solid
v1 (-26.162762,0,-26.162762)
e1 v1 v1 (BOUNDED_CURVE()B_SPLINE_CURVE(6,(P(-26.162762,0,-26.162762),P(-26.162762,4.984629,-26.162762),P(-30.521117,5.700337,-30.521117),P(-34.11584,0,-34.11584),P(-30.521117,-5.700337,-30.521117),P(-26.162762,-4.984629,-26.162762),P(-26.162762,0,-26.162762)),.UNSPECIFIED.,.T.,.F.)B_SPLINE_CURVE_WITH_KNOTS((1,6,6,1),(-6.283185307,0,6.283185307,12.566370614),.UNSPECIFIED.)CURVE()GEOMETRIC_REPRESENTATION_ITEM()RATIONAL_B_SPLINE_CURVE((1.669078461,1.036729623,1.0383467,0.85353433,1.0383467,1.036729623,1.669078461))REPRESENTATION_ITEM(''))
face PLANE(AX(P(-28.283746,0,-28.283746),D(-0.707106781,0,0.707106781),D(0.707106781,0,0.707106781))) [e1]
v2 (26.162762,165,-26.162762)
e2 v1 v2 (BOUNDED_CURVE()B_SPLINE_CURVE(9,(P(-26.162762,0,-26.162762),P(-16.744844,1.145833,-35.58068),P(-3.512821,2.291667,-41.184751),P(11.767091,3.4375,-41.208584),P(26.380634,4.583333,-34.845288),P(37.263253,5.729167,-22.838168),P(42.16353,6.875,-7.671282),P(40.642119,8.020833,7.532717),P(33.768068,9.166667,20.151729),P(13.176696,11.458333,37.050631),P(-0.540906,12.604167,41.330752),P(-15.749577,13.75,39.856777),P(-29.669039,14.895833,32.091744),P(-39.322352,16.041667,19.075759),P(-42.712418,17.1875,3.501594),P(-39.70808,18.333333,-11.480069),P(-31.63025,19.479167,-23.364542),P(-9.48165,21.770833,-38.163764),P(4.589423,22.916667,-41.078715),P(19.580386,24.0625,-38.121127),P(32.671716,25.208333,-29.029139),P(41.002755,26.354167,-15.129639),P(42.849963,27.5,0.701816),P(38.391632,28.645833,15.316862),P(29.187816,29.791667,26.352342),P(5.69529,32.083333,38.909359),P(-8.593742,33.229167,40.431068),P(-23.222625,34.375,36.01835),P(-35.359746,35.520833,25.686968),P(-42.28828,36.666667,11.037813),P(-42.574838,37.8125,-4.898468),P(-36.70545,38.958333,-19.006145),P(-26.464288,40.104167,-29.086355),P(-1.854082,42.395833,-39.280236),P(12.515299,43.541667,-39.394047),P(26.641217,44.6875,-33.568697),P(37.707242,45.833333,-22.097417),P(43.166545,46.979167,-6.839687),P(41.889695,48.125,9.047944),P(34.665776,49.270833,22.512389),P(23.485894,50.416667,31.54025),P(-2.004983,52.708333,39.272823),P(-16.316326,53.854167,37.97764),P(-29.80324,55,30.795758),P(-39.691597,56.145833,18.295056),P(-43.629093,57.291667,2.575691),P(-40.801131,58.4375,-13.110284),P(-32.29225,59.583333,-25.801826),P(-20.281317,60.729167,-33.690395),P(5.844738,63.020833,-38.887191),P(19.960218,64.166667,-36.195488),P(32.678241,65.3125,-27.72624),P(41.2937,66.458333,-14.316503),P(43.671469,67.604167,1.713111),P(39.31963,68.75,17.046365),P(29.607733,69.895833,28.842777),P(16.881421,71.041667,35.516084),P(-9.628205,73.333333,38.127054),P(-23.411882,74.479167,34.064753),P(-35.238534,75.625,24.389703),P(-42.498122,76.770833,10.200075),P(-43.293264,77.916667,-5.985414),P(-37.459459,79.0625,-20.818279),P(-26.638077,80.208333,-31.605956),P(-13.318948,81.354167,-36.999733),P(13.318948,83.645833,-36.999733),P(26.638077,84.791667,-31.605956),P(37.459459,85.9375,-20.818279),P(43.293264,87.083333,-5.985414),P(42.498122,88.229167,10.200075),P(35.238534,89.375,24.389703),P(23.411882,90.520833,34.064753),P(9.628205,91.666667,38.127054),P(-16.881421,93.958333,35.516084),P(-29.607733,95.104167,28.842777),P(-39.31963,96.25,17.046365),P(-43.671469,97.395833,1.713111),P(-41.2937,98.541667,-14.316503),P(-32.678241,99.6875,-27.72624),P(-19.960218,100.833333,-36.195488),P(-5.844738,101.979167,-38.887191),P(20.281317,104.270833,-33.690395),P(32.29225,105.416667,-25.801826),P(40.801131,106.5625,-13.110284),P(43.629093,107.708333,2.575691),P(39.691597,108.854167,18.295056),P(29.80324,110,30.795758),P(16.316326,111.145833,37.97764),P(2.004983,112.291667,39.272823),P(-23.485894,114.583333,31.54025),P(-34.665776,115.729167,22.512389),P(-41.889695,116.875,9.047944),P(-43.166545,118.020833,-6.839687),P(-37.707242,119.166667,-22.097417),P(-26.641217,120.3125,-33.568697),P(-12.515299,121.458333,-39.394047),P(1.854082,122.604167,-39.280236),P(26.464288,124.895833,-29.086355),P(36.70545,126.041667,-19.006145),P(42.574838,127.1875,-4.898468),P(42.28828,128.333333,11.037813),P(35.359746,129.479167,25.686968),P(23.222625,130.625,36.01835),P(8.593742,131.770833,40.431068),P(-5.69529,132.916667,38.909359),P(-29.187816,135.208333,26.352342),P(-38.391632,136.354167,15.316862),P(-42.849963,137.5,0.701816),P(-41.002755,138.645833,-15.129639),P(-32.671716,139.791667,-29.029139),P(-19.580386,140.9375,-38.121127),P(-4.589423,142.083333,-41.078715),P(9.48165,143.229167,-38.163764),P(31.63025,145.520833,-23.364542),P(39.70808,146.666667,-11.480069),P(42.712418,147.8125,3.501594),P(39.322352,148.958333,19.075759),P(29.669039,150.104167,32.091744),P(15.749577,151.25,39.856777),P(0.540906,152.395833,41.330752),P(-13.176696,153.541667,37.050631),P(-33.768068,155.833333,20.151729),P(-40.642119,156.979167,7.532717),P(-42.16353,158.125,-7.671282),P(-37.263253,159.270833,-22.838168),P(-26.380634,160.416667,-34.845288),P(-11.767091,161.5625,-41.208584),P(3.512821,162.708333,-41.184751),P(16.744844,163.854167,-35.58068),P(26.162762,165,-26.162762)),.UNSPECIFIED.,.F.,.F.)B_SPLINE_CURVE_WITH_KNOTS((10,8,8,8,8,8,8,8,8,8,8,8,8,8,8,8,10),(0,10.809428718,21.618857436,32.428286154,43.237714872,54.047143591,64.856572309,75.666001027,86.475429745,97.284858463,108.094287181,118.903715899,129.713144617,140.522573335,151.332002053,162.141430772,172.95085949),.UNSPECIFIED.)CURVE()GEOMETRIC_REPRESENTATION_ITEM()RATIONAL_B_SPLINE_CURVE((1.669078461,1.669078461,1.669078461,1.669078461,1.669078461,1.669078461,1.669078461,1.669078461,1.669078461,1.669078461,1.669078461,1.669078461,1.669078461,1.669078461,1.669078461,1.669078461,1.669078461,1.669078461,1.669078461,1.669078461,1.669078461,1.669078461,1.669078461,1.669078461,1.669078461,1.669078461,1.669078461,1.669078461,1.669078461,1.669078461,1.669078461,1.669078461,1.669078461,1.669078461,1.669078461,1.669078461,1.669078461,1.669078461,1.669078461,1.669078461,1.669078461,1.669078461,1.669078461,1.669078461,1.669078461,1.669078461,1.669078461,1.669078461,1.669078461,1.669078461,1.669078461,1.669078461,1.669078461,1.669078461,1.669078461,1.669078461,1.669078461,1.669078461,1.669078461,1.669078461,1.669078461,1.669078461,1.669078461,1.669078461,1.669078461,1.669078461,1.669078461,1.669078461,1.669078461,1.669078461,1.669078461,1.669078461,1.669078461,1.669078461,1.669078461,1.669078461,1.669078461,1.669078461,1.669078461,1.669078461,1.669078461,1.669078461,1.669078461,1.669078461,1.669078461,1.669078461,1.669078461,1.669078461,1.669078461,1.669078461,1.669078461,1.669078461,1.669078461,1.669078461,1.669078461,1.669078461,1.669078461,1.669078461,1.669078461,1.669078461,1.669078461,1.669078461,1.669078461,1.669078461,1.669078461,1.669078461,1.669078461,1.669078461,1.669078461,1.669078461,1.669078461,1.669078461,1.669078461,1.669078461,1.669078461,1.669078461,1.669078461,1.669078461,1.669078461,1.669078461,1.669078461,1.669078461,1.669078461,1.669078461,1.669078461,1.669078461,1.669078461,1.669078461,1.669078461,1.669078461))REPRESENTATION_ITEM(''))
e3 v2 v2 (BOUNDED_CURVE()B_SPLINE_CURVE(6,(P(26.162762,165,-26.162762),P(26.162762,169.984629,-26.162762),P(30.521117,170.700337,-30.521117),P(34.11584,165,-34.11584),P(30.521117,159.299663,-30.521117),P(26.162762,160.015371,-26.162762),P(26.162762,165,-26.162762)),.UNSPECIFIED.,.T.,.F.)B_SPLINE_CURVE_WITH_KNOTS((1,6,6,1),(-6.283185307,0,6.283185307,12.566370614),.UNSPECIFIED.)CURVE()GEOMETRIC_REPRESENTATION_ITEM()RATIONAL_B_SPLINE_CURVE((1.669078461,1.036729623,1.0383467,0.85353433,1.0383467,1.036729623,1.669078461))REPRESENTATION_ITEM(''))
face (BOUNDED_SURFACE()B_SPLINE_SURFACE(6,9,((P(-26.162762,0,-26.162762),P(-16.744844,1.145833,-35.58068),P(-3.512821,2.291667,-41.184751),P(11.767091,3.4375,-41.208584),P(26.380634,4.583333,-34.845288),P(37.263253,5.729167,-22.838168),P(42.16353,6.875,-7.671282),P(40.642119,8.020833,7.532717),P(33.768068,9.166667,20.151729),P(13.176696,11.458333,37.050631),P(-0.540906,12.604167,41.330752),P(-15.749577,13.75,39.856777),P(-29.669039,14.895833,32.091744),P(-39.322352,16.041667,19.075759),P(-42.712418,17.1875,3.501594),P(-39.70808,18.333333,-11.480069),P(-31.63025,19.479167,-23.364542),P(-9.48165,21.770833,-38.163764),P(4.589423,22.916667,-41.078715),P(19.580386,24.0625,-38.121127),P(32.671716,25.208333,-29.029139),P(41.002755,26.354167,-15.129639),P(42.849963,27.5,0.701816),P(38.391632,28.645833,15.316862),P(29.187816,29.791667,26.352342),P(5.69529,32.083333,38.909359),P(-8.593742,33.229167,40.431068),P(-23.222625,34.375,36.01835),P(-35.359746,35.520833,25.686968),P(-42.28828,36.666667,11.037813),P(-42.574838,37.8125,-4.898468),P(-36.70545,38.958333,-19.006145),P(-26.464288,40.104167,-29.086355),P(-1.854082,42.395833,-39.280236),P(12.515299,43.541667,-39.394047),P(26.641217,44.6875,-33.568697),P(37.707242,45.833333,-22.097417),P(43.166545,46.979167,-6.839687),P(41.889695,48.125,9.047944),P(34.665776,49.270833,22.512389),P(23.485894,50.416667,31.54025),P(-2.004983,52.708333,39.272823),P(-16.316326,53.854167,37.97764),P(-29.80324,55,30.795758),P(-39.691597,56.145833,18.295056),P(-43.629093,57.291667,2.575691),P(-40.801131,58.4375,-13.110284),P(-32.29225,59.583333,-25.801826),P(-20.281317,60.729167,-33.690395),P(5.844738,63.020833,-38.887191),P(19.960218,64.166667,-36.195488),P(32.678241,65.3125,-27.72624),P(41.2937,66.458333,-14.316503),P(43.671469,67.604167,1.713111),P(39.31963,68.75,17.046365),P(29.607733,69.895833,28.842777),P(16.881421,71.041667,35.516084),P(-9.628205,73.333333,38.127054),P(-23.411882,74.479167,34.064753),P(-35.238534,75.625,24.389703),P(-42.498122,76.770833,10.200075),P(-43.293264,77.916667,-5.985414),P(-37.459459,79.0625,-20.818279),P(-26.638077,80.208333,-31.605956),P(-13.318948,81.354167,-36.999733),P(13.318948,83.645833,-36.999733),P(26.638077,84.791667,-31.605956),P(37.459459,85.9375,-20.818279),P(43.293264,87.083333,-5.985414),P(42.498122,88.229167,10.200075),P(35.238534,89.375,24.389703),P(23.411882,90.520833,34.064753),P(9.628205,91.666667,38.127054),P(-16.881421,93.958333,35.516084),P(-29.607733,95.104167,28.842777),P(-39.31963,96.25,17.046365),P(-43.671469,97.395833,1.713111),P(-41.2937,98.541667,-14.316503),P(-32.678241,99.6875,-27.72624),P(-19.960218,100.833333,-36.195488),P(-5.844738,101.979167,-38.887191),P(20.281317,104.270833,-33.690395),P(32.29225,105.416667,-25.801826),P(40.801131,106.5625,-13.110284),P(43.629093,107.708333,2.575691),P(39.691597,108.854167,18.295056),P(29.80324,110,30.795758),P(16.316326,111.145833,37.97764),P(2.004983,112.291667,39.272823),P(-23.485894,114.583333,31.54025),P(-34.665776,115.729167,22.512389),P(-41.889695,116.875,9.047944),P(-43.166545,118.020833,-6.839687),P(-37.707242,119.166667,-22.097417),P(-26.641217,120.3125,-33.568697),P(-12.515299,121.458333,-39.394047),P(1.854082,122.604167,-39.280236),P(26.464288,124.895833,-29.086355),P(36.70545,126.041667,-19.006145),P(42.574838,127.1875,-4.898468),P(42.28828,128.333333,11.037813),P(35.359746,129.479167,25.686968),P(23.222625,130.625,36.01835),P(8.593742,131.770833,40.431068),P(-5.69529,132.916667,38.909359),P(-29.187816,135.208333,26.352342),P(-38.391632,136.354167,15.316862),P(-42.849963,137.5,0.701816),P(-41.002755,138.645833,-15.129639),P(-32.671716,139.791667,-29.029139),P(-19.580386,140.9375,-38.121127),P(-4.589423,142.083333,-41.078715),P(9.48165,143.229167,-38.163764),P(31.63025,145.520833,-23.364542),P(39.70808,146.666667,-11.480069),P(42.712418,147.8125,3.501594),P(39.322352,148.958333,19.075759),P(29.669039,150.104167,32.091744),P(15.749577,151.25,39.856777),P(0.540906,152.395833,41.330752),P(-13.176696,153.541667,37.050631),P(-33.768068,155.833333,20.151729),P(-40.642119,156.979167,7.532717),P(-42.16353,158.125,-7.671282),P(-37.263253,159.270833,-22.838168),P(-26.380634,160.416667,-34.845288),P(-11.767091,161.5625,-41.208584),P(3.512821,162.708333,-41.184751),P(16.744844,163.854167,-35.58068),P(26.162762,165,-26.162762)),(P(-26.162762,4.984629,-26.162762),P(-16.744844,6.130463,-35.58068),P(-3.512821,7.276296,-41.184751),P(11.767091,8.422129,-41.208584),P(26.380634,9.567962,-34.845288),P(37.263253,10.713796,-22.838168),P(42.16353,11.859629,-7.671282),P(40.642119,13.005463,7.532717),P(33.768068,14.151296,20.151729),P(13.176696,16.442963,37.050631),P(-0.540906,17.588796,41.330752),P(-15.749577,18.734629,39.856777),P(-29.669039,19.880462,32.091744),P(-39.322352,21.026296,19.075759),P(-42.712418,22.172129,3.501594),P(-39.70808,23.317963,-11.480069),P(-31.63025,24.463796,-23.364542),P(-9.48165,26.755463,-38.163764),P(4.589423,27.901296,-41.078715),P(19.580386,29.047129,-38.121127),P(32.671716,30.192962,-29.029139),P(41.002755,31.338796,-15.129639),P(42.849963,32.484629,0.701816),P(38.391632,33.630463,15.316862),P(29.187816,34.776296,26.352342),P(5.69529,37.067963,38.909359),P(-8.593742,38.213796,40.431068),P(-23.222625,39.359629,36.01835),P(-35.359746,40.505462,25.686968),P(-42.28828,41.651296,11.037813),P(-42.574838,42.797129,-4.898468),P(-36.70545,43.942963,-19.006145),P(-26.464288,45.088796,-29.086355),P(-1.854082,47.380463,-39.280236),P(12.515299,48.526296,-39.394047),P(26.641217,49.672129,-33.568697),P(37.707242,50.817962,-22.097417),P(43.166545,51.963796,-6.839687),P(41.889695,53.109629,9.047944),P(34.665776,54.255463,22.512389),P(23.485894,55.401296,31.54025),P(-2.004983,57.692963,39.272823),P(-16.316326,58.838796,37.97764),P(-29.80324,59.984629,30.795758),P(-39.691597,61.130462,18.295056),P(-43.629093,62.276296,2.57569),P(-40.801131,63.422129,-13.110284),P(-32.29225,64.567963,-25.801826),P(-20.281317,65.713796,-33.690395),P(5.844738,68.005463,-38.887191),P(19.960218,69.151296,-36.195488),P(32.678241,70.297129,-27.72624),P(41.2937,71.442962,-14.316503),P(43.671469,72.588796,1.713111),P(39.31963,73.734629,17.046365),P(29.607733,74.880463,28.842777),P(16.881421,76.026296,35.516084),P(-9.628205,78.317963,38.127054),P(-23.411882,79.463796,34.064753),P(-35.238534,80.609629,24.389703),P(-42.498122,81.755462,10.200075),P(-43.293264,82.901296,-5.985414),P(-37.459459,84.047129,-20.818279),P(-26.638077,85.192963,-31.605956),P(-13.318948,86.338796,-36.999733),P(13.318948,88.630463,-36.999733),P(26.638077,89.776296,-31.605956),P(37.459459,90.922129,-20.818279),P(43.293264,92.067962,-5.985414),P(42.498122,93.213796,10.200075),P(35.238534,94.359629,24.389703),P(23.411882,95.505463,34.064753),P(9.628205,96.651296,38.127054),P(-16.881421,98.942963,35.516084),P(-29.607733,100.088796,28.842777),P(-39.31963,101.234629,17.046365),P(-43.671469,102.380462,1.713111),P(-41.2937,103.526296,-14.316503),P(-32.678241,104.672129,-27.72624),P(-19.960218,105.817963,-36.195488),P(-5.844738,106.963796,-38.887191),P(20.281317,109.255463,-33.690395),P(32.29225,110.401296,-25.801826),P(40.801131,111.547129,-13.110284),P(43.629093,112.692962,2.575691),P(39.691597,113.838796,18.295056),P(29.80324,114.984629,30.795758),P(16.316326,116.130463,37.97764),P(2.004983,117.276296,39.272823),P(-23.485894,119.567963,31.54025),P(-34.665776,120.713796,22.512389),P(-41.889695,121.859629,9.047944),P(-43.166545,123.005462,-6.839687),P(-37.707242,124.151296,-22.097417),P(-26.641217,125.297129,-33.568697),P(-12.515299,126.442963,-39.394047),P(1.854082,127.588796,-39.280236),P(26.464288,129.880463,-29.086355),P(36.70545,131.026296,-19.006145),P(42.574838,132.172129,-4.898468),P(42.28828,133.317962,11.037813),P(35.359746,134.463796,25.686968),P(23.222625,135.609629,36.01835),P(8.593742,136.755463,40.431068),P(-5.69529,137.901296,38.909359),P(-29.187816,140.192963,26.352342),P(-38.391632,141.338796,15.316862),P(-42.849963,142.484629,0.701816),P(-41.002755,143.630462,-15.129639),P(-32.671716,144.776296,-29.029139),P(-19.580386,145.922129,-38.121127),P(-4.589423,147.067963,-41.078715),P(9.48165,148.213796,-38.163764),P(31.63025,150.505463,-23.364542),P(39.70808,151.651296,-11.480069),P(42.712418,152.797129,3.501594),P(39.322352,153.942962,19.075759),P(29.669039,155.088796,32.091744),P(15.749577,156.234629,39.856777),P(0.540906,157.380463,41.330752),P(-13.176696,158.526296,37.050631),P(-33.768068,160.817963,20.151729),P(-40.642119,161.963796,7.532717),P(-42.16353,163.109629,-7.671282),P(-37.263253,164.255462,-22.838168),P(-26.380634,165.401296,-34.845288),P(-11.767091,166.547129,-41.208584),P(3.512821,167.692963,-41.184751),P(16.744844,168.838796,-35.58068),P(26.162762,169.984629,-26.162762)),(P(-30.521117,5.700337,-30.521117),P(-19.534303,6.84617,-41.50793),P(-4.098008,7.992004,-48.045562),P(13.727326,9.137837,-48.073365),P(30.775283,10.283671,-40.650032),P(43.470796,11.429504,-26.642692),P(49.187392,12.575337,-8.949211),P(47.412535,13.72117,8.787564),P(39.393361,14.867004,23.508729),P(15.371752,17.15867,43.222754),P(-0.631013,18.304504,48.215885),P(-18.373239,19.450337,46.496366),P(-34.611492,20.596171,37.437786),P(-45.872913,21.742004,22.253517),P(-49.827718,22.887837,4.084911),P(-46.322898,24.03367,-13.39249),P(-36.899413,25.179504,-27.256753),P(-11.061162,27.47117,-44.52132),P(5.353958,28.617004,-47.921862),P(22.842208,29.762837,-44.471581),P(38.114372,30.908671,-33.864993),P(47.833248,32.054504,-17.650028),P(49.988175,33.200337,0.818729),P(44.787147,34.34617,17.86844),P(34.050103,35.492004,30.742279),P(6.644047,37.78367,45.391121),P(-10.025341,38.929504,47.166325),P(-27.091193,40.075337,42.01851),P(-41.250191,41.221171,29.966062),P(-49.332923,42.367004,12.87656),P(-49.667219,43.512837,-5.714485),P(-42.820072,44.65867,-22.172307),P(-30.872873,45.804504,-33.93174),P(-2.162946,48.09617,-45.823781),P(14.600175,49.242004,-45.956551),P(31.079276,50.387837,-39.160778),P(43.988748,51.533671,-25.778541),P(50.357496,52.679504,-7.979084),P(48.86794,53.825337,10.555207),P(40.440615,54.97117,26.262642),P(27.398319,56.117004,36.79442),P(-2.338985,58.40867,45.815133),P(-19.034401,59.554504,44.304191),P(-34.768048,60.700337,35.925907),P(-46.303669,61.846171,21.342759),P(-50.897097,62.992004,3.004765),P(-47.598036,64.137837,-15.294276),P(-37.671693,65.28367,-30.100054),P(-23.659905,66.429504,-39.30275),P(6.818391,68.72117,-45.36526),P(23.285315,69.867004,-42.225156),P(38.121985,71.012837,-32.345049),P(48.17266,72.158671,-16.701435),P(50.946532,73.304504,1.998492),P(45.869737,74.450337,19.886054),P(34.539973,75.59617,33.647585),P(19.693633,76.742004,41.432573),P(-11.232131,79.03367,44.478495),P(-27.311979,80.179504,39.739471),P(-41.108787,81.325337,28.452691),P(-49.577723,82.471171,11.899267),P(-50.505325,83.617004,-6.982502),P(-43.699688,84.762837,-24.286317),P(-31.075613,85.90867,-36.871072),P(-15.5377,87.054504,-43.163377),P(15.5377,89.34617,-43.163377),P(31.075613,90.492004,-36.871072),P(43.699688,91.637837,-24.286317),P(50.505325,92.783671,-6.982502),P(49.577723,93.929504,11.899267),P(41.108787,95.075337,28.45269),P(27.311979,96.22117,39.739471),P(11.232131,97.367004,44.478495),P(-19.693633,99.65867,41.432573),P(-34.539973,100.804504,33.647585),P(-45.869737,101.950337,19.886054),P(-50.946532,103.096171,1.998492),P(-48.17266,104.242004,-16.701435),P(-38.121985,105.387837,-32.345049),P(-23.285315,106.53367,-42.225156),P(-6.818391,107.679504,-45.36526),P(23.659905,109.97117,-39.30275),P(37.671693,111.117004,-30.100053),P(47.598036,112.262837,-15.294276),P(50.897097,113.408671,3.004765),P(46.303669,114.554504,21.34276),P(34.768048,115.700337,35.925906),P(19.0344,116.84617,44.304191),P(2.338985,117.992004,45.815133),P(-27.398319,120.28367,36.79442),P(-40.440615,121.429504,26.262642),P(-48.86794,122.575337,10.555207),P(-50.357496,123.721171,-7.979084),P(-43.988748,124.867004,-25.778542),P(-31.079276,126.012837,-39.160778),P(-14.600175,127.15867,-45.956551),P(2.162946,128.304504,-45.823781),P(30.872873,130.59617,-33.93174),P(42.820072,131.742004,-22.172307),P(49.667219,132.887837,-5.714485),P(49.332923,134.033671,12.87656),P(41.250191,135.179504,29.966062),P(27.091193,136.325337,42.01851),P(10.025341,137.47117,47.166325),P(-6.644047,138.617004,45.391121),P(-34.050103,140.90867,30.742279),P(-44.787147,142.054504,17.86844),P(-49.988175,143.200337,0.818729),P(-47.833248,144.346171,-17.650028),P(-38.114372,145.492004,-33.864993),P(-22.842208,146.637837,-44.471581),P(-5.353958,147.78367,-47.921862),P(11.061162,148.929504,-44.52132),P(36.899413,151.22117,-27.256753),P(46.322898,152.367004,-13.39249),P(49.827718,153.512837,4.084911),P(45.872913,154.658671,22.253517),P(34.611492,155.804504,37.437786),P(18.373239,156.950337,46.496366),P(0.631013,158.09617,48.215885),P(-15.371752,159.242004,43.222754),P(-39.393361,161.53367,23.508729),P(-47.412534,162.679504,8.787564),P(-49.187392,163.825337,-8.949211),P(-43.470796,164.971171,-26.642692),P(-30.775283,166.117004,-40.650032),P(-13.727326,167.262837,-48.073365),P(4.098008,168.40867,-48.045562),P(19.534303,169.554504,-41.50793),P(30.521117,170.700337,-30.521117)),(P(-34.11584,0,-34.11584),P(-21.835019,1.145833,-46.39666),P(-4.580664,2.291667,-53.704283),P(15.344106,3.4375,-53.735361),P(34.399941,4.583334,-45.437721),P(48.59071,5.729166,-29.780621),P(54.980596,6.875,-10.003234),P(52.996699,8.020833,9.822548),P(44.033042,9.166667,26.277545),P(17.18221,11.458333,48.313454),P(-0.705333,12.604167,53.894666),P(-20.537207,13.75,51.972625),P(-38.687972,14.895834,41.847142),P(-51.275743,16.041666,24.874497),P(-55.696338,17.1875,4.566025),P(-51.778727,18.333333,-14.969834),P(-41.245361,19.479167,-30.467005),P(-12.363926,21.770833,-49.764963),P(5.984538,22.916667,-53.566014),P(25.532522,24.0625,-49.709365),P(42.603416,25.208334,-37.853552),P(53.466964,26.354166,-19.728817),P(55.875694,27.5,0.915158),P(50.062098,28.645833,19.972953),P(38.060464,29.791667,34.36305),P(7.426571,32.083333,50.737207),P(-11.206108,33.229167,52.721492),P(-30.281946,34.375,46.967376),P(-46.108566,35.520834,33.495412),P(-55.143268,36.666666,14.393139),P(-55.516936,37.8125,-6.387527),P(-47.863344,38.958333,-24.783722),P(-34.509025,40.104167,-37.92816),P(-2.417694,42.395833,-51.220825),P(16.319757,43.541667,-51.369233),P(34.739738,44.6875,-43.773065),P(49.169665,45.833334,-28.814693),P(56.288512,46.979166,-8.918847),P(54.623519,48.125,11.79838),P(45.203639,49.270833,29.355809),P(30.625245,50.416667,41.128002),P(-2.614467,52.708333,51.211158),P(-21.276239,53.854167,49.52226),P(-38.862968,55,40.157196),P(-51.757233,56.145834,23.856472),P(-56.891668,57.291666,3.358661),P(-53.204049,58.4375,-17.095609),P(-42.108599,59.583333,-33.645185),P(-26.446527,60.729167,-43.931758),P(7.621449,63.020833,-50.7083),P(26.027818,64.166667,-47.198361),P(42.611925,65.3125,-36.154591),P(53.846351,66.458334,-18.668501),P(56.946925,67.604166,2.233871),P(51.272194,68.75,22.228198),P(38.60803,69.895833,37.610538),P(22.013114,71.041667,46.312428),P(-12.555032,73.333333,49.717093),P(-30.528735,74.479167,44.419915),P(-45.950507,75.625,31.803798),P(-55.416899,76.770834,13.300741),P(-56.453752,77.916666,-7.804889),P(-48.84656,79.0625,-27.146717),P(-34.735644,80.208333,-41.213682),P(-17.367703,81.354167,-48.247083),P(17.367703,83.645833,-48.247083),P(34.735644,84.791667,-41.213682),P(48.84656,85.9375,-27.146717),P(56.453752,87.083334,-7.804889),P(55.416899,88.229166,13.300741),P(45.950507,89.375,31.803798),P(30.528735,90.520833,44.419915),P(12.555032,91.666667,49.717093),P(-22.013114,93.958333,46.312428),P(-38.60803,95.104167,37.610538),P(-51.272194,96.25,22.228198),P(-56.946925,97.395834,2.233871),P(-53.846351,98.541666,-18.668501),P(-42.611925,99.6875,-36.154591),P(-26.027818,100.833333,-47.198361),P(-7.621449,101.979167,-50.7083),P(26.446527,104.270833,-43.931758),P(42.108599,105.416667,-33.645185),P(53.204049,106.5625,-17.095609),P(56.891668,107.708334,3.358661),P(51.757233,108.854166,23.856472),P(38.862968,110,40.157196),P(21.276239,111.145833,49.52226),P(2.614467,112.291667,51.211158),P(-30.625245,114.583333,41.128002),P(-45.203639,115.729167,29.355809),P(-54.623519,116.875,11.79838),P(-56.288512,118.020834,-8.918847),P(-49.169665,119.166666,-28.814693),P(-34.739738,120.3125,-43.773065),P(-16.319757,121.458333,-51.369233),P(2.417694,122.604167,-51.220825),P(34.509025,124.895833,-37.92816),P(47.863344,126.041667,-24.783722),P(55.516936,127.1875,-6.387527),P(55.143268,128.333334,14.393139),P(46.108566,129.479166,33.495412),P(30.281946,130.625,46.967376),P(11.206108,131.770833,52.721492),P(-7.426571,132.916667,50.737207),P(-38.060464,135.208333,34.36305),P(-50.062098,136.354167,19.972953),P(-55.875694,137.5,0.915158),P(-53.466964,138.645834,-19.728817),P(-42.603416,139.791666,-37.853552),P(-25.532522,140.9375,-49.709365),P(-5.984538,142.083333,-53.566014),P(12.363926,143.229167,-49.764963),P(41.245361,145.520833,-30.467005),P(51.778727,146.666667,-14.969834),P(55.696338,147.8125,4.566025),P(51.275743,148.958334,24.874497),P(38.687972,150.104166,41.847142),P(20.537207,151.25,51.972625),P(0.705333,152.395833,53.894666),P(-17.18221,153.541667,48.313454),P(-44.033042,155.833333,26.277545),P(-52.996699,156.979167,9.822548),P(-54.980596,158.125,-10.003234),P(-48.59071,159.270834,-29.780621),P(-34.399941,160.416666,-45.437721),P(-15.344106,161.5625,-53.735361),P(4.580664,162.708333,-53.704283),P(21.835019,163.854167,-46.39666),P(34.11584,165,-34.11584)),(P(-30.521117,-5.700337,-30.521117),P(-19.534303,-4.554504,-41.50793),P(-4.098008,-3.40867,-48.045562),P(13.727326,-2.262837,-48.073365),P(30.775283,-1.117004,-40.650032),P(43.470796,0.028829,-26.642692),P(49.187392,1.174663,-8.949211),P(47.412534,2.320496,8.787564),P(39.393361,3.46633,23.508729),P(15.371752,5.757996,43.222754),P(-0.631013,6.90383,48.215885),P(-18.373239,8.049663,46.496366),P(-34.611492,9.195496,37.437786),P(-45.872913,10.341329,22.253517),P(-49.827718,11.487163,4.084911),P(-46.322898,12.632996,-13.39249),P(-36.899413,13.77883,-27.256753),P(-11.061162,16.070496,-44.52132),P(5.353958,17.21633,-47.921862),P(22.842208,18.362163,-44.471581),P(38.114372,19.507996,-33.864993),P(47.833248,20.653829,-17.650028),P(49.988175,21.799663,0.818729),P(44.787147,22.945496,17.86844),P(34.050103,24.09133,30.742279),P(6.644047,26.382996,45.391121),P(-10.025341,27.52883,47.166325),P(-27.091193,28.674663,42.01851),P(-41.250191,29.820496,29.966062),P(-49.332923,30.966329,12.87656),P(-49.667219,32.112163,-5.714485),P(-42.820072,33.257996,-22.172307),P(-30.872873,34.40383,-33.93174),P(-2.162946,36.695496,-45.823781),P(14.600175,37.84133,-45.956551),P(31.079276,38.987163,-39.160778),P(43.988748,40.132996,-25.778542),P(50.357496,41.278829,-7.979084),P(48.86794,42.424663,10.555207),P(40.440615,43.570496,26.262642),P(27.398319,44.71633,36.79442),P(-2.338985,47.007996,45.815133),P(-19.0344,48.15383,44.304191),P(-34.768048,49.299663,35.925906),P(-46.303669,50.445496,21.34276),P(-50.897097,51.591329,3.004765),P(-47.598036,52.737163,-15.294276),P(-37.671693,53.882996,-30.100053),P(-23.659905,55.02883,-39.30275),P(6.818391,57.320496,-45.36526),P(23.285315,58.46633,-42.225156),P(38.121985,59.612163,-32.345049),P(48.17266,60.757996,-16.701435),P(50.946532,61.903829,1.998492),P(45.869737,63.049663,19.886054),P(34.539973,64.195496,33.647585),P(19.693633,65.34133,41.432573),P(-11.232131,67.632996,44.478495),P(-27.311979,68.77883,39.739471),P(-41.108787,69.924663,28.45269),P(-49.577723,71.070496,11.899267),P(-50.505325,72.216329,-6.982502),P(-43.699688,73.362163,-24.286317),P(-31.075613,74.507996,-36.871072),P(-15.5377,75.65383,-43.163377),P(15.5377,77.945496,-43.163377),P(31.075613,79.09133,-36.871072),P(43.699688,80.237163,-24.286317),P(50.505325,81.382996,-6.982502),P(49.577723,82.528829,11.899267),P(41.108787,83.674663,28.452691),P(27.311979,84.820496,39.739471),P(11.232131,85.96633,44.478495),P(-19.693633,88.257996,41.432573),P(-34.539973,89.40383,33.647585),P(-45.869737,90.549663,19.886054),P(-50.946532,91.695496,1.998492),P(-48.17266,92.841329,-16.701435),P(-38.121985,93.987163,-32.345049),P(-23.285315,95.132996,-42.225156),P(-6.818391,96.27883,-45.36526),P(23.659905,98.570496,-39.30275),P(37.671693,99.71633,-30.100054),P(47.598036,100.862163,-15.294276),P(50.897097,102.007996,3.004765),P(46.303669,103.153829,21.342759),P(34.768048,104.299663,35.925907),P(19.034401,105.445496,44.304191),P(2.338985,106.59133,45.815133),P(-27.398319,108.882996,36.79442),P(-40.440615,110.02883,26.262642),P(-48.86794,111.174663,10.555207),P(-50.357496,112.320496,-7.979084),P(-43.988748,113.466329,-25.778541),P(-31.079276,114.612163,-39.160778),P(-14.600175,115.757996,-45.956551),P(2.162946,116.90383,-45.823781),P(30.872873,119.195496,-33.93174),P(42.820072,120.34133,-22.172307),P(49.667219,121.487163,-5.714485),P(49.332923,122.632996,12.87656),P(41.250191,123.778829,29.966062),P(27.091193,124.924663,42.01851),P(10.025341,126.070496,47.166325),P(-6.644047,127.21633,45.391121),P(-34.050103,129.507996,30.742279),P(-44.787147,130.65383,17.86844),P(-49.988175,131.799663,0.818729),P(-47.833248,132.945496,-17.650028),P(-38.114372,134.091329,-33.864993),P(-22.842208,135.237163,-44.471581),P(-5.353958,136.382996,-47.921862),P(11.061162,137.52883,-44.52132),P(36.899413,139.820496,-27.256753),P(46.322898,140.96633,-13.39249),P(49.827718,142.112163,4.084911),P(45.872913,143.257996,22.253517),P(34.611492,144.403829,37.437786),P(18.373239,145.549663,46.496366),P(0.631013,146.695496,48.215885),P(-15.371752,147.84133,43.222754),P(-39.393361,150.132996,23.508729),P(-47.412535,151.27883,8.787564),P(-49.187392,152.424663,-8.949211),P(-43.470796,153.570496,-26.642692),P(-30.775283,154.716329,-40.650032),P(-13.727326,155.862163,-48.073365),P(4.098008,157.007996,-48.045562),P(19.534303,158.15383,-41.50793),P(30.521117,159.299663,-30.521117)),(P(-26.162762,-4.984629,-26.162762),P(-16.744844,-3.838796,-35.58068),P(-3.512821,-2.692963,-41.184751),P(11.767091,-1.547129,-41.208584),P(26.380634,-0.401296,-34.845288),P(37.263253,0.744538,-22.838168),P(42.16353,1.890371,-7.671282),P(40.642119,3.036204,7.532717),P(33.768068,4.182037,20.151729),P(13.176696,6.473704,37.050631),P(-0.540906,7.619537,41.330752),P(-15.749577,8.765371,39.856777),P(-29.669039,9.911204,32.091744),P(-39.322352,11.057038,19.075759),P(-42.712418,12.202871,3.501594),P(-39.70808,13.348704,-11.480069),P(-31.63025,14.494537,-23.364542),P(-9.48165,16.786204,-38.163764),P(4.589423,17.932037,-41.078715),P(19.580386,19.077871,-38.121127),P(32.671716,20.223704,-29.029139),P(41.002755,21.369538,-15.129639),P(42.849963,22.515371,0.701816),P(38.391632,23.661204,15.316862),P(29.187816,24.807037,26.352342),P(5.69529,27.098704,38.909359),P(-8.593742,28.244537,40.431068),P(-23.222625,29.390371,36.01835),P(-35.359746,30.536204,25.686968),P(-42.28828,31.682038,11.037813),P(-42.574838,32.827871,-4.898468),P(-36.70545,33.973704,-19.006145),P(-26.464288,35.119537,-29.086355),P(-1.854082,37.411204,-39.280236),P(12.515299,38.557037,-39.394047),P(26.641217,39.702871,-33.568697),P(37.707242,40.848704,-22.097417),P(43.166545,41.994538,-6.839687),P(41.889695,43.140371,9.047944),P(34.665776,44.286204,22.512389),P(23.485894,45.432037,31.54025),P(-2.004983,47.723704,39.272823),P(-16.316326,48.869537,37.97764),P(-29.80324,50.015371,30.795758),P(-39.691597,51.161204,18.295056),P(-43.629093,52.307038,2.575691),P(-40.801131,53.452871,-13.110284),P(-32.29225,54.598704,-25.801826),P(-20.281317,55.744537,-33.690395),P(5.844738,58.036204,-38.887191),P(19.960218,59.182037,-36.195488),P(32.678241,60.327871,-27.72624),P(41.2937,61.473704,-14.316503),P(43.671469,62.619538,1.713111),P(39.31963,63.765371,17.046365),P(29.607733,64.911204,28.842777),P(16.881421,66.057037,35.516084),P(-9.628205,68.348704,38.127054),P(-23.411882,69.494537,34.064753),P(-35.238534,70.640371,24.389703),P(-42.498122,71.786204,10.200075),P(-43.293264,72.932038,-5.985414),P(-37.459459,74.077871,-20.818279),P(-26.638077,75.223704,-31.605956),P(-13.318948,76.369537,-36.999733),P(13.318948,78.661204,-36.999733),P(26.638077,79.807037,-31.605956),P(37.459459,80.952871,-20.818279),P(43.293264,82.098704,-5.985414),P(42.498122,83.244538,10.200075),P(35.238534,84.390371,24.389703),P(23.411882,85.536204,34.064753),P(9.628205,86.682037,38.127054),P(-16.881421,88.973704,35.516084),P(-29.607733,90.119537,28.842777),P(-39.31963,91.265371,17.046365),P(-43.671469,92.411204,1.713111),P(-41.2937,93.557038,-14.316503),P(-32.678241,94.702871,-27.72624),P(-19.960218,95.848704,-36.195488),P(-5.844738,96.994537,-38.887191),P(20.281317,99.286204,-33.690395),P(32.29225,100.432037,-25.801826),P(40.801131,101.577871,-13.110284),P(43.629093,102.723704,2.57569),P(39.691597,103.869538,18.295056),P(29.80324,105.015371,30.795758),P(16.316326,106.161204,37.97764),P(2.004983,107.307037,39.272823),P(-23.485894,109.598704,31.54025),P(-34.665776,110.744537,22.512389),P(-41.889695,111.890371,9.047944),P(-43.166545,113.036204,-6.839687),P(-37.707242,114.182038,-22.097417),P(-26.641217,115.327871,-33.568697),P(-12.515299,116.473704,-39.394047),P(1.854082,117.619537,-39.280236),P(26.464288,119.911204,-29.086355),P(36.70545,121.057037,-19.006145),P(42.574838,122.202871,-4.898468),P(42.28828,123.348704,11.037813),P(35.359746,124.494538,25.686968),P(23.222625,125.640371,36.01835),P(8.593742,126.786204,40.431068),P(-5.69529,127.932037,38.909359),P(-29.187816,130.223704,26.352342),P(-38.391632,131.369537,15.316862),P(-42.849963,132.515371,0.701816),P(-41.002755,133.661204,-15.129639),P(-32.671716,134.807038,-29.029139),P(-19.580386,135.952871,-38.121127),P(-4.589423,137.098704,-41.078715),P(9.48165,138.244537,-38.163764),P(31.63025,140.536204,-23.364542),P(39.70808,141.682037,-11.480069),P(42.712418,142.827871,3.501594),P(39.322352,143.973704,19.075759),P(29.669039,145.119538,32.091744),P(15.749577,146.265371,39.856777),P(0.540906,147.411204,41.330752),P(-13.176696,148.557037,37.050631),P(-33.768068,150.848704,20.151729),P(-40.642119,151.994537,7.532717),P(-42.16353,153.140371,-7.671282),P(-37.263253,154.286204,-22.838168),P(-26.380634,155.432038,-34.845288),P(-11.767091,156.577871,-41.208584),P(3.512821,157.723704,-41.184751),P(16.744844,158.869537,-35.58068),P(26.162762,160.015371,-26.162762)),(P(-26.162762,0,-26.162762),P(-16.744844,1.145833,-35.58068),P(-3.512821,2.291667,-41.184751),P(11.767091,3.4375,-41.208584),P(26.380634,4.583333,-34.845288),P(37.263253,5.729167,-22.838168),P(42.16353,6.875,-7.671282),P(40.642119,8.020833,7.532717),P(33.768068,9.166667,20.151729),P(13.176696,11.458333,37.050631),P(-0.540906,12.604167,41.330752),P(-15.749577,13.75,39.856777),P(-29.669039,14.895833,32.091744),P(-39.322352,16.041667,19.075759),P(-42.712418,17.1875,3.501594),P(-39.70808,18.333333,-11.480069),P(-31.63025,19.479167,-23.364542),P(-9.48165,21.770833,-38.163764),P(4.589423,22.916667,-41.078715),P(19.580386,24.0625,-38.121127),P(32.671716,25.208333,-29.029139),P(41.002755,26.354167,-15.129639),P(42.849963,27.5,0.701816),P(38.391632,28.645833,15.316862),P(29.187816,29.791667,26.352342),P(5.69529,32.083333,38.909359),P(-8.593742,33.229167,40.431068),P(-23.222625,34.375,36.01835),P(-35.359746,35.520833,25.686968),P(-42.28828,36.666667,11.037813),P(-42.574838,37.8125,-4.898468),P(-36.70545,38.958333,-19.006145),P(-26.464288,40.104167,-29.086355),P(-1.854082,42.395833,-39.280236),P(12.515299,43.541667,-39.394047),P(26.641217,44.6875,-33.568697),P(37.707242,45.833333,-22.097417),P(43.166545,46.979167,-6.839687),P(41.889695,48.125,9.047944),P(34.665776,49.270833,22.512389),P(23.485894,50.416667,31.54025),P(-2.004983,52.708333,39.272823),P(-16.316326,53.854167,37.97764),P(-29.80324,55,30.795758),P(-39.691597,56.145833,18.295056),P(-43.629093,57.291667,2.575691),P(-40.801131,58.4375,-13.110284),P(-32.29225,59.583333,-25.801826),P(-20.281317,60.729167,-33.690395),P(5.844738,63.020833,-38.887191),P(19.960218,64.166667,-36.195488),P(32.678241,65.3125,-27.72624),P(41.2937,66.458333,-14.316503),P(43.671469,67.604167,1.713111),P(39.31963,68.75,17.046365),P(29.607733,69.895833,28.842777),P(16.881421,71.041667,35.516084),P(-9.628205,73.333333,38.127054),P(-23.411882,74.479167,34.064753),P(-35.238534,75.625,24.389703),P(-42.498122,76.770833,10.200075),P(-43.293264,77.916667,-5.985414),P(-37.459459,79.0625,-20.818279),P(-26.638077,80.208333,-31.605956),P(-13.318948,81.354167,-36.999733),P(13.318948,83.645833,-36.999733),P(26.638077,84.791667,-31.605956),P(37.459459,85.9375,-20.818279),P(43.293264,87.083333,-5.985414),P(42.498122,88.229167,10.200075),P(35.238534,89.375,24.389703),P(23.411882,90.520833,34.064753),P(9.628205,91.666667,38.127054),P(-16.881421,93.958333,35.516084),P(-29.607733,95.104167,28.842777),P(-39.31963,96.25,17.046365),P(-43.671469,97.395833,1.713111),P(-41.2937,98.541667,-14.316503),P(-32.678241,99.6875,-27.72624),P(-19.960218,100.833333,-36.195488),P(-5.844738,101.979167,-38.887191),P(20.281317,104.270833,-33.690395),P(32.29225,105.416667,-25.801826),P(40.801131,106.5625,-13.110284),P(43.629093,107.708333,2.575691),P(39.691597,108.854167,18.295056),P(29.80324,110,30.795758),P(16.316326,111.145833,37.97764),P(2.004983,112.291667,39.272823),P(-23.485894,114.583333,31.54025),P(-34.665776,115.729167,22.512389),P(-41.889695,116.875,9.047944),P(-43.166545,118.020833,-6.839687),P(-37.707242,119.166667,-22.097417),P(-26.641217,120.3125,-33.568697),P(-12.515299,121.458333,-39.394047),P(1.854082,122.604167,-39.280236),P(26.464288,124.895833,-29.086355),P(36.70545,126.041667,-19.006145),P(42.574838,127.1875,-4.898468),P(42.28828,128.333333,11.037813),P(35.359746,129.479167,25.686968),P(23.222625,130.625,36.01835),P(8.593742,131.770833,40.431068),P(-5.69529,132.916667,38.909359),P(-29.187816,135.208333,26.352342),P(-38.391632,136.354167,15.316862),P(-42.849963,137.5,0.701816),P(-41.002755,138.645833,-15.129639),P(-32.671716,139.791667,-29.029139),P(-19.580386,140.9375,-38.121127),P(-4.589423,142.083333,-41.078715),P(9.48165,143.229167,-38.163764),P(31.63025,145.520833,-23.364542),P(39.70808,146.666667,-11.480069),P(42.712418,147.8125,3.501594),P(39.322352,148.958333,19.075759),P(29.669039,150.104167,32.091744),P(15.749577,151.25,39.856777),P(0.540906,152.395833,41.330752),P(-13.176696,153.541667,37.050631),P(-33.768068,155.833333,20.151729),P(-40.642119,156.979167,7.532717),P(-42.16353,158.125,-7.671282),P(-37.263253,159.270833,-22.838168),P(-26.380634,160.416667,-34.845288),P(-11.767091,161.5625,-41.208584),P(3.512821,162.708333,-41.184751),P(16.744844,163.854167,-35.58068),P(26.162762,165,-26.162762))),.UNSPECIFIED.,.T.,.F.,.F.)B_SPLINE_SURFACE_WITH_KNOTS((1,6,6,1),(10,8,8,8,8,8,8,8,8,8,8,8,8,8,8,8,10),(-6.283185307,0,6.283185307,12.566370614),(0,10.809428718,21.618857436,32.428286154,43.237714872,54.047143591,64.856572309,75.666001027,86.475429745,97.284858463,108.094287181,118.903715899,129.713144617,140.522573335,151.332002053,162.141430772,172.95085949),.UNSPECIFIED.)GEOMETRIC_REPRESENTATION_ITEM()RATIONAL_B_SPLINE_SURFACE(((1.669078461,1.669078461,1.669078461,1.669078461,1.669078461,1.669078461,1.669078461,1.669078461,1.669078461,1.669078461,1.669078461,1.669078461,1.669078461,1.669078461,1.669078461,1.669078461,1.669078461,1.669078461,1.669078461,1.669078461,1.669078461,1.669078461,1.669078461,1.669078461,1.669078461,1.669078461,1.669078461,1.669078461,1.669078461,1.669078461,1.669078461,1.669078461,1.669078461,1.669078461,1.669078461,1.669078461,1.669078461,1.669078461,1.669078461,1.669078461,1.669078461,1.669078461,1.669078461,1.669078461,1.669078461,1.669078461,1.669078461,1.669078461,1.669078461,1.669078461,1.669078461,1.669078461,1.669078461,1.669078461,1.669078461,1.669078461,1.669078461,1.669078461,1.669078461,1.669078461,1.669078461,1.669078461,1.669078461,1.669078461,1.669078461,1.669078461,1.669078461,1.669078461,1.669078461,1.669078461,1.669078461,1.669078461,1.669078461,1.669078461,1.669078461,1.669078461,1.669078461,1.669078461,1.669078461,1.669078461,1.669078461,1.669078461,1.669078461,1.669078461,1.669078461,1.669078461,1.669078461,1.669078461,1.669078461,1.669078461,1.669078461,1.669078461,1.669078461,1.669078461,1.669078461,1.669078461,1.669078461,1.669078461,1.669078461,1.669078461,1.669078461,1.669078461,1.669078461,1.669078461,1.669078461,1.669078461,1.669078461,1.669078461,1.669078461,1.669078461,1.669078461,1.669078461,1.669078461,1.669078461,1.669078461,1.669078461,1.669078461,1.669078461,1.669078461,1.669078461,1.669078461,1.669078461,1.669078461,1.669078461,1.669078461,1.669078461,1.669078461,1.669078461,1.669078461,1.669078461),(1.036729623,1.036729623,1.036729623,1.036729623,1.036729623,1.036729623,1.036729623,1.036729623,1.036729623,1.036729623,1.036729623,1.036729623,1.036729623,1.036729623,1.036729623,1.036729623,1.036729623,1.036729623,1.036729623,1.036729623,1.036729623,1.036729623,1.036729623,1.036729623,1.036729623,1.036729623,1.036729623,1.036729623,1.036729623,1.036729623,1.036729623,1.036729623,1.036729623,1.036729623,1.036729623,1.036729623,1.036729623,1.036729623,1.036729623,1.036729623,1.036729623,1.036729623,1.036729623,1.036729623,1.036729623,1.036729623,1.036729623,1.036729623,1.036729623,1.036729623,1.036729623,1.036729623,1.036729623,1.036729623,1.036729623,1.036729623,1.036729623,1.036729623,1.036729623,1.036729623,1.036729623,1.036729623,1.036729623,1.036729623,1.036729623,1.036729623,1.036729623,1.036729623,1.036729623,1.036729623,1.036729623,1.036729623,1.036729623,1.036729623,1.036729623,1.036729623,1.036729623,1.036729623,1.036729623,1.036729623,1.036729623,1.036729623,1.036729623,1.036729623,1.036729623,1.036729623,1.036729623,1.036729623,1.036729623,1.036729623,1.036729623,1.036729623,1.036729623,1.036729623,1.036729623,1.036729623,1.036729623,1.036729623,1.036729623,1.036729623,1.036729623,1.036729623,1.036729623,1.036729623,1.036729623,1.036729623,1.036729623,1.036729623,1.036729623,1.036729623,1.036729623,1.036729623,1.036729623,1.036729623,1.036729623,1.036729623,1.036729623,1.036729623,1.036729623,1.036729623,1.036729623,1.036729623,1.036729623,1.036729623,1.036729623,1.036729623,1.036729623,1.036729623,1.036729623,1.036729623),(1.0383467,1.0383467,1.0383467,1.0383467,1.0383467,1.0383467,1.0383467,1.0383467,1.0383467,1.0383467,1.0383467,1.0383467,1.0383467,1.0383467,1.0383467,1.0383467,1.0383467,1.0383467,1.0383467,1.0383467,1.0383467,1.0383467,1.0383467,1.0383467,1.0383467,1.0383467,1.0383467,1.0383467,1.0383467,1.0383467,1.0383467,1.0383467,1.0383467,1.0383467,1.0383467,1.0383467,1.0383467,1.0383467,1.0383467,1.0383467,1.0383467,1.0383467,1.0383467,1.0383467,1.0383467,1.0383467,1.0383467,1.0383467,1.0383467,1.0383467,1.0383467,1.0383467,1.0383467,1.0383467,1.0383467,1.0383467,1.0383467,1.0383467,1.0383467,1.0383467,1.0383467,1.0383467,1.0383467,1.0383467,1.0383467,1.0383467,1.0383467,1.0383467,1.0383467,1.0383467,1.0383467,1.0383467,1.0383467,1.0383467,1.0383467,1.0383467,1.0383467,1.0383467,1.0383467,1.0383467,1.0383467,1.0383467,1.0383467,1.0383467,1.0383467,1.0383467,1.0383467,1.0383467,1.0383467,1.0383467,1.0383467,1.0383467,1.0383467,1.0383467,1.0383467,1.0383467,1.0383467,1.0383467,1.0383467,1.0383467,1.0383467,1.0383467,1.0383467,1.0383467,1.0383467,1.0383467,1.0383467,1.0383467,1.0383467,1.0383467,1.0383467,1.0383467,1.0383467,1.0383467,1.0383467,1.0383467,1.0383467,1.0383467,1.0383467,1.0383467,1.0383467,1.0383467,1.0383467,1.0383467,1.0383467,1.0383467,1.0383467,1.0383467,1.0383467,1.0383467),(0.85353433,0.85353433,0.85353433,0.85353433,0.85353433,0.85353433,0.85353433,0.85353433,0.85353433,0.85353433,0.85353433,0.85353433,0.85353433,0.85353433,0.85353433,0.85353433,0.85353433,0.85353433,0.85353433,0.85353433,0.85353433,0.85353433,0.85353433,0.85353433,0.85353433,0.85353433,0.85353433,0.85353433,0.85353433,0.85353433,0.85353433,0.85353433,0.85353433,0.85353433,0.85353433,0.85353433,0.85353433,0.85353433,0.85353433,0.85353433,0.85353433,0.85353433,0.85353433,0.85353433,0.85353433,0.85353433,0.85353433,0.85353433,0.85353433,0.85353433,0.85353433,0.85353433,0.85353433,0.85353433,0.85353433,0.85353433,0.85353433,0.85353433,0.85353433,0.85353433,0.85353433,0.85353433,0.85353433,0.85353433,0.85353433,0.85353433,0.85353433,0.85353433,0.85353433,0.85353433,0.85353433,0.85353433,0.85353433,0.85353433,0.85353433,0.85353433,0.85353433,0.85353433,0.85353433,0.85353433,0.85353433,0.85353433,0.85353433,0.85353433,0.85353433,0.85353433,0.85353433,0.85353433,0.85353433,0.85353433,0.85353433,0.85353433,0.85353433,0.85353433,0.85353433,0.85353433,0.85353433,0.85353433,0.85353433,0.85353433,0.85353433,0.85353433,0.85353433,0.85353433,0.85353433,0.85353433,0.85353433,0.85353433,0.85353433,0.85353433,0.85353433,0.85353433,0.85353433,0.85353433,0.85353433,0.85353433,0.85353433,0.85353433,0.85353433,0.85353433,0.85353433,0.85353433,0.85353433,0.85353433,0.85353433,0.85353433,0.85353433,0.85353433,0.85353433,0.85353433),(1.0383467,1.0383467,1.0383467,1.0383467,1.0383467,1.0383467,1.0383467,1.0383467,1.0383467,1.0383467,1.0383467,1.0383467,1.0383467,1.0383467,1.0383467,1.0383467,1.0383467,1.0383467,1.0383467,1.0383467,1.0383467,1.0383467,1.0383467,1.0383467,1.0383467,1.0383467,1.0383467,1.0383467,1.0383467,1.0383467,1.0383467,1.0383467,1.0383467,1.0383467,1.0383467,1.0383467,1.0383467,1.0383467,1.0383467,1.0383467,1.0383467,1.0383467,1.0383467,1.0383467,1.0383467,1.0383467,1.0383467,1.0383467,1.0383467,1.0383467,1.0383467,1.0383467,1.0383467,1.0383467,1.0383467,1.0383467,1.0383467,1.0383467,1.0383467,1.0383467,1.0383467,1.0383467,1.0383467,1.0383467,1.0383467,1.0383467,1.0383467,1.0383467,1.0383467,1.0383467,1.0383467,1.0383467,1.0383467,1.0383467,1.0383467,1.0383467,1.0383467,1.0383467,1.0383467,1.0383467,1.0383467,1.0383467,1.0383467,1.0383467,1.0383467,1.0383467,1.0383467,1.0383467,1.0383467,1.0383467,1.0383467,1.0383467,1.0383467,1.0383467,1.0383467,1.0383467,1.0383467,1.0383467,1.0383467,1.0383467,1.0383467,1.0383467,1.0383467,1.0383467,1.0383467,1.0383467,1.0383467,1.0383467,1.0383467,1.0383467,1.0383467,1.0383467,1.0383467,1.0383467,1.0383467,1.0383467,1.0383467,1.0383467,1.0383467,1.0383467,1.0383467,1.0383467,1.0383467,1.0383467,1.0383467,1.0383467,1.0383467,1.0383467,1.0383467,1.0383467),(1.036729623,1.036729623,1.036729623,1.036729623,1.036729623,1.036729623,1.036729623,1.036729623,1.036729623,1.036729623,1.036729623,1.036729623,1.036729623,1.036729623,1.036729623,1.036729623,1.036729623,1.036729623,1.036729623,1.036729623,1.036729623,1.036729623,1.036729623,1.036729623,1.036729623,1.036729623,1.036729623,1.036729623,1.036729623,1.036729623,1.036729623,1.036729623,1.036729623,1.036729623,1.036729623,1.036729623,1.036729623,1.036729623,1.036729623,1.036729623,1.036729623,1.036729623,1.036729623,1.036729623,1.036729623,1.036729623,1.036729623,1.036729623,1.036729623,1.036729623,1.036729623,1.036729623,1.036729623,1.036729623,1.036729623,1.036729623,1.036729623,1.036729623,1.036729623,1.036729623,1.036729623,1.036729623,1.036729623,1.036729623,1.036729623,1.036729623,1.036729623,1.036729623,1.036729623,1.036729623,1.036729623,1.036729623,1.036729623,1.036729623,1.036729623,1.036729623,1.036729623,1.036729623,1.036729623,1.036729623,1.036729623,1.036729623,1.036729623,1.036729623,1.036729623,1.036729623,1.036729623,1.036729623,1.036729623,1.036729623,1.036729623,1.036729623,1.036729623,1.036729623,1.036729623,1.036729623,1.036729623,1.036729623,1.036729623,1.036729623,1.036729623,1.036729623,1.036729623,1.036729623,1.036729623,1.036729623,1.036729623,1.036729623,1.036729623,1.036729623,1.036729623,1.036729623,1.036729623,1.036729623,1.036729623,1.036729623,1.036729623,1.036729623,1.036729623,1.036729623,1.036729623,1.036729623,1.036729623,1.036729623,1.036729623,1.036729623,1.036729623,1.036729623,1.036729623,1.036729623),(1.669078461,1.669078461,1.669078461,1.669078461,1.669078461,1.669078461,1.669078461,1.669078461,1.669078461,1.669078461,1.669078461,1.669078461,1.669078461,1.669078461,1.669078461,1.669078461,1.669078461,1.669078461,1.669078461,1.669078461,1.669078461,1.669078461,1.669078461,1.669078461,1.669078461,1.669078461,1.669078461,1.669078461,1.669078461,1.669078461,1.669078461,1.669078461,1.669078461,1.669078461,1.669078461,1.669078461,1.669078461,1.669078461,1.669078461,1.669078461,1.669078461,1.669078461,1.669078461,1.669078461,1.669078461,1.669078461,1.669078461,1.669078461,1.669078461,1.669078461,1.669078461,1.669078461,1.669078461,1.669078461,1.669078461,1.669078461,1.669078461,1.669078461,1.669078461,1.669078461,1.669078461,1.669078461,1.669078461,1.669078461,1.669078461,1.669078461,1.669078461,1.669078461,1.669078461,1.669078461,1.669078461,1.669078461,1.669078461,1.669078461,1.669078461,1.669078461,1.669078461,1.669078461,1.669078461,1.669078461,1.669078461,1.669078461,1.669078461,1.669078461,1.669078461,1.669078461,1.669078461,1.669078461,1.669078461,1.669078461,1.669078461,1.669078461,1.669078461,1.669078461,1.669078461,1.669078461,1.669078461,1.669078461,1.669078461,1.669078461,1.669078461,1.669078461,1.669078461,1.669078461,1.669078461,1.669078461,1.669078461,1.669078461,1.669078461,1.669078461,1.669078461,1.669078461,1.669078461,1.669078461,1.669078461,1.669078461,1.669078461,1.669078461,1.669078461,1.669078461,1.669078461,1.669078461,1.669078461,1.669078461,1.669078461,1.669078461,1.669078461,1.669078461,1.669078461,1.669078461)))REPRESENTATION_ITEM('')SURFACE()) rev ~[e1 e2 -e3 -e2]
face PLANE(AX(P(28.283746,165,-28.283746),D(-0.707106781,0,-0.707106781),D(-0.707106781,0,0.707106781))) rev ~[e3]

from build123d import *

# Parameters (mm, degrees)
SWEEP1_PITCH       = 20
SWEEP1_HEIGHT      = 165
SWEEP1_RADIUS      = 40
SWEEP1_START_ANGLE = -135
SKETCH2_R          = 3


with BuildPart() as part:
    # Sweep1: sweep along a helix
    with BuildLine() as sweep1_path:
        add(Helix(SWEEP1_PITCH, SWEEP1_HEIGHT, SWEEP1_RADIUS, center=(0, 0, 0), direction=(0, 1, 0), lefthand=True, mode=Mode.PRIVATE).rotate(Axis((0, 0, 0), (0, 1, 0)), SWEEP1_START_ANGLE))
    # Sketch2 → Sweep1 (sweep)
    with BuildSketch(Plane.XY):
        with Locations((-39.999732532, 77.5)):
            Circle(SKETCH2_R)
    sweep(path=sweep1_path.line, is_frenet=True)


solid = part.part
